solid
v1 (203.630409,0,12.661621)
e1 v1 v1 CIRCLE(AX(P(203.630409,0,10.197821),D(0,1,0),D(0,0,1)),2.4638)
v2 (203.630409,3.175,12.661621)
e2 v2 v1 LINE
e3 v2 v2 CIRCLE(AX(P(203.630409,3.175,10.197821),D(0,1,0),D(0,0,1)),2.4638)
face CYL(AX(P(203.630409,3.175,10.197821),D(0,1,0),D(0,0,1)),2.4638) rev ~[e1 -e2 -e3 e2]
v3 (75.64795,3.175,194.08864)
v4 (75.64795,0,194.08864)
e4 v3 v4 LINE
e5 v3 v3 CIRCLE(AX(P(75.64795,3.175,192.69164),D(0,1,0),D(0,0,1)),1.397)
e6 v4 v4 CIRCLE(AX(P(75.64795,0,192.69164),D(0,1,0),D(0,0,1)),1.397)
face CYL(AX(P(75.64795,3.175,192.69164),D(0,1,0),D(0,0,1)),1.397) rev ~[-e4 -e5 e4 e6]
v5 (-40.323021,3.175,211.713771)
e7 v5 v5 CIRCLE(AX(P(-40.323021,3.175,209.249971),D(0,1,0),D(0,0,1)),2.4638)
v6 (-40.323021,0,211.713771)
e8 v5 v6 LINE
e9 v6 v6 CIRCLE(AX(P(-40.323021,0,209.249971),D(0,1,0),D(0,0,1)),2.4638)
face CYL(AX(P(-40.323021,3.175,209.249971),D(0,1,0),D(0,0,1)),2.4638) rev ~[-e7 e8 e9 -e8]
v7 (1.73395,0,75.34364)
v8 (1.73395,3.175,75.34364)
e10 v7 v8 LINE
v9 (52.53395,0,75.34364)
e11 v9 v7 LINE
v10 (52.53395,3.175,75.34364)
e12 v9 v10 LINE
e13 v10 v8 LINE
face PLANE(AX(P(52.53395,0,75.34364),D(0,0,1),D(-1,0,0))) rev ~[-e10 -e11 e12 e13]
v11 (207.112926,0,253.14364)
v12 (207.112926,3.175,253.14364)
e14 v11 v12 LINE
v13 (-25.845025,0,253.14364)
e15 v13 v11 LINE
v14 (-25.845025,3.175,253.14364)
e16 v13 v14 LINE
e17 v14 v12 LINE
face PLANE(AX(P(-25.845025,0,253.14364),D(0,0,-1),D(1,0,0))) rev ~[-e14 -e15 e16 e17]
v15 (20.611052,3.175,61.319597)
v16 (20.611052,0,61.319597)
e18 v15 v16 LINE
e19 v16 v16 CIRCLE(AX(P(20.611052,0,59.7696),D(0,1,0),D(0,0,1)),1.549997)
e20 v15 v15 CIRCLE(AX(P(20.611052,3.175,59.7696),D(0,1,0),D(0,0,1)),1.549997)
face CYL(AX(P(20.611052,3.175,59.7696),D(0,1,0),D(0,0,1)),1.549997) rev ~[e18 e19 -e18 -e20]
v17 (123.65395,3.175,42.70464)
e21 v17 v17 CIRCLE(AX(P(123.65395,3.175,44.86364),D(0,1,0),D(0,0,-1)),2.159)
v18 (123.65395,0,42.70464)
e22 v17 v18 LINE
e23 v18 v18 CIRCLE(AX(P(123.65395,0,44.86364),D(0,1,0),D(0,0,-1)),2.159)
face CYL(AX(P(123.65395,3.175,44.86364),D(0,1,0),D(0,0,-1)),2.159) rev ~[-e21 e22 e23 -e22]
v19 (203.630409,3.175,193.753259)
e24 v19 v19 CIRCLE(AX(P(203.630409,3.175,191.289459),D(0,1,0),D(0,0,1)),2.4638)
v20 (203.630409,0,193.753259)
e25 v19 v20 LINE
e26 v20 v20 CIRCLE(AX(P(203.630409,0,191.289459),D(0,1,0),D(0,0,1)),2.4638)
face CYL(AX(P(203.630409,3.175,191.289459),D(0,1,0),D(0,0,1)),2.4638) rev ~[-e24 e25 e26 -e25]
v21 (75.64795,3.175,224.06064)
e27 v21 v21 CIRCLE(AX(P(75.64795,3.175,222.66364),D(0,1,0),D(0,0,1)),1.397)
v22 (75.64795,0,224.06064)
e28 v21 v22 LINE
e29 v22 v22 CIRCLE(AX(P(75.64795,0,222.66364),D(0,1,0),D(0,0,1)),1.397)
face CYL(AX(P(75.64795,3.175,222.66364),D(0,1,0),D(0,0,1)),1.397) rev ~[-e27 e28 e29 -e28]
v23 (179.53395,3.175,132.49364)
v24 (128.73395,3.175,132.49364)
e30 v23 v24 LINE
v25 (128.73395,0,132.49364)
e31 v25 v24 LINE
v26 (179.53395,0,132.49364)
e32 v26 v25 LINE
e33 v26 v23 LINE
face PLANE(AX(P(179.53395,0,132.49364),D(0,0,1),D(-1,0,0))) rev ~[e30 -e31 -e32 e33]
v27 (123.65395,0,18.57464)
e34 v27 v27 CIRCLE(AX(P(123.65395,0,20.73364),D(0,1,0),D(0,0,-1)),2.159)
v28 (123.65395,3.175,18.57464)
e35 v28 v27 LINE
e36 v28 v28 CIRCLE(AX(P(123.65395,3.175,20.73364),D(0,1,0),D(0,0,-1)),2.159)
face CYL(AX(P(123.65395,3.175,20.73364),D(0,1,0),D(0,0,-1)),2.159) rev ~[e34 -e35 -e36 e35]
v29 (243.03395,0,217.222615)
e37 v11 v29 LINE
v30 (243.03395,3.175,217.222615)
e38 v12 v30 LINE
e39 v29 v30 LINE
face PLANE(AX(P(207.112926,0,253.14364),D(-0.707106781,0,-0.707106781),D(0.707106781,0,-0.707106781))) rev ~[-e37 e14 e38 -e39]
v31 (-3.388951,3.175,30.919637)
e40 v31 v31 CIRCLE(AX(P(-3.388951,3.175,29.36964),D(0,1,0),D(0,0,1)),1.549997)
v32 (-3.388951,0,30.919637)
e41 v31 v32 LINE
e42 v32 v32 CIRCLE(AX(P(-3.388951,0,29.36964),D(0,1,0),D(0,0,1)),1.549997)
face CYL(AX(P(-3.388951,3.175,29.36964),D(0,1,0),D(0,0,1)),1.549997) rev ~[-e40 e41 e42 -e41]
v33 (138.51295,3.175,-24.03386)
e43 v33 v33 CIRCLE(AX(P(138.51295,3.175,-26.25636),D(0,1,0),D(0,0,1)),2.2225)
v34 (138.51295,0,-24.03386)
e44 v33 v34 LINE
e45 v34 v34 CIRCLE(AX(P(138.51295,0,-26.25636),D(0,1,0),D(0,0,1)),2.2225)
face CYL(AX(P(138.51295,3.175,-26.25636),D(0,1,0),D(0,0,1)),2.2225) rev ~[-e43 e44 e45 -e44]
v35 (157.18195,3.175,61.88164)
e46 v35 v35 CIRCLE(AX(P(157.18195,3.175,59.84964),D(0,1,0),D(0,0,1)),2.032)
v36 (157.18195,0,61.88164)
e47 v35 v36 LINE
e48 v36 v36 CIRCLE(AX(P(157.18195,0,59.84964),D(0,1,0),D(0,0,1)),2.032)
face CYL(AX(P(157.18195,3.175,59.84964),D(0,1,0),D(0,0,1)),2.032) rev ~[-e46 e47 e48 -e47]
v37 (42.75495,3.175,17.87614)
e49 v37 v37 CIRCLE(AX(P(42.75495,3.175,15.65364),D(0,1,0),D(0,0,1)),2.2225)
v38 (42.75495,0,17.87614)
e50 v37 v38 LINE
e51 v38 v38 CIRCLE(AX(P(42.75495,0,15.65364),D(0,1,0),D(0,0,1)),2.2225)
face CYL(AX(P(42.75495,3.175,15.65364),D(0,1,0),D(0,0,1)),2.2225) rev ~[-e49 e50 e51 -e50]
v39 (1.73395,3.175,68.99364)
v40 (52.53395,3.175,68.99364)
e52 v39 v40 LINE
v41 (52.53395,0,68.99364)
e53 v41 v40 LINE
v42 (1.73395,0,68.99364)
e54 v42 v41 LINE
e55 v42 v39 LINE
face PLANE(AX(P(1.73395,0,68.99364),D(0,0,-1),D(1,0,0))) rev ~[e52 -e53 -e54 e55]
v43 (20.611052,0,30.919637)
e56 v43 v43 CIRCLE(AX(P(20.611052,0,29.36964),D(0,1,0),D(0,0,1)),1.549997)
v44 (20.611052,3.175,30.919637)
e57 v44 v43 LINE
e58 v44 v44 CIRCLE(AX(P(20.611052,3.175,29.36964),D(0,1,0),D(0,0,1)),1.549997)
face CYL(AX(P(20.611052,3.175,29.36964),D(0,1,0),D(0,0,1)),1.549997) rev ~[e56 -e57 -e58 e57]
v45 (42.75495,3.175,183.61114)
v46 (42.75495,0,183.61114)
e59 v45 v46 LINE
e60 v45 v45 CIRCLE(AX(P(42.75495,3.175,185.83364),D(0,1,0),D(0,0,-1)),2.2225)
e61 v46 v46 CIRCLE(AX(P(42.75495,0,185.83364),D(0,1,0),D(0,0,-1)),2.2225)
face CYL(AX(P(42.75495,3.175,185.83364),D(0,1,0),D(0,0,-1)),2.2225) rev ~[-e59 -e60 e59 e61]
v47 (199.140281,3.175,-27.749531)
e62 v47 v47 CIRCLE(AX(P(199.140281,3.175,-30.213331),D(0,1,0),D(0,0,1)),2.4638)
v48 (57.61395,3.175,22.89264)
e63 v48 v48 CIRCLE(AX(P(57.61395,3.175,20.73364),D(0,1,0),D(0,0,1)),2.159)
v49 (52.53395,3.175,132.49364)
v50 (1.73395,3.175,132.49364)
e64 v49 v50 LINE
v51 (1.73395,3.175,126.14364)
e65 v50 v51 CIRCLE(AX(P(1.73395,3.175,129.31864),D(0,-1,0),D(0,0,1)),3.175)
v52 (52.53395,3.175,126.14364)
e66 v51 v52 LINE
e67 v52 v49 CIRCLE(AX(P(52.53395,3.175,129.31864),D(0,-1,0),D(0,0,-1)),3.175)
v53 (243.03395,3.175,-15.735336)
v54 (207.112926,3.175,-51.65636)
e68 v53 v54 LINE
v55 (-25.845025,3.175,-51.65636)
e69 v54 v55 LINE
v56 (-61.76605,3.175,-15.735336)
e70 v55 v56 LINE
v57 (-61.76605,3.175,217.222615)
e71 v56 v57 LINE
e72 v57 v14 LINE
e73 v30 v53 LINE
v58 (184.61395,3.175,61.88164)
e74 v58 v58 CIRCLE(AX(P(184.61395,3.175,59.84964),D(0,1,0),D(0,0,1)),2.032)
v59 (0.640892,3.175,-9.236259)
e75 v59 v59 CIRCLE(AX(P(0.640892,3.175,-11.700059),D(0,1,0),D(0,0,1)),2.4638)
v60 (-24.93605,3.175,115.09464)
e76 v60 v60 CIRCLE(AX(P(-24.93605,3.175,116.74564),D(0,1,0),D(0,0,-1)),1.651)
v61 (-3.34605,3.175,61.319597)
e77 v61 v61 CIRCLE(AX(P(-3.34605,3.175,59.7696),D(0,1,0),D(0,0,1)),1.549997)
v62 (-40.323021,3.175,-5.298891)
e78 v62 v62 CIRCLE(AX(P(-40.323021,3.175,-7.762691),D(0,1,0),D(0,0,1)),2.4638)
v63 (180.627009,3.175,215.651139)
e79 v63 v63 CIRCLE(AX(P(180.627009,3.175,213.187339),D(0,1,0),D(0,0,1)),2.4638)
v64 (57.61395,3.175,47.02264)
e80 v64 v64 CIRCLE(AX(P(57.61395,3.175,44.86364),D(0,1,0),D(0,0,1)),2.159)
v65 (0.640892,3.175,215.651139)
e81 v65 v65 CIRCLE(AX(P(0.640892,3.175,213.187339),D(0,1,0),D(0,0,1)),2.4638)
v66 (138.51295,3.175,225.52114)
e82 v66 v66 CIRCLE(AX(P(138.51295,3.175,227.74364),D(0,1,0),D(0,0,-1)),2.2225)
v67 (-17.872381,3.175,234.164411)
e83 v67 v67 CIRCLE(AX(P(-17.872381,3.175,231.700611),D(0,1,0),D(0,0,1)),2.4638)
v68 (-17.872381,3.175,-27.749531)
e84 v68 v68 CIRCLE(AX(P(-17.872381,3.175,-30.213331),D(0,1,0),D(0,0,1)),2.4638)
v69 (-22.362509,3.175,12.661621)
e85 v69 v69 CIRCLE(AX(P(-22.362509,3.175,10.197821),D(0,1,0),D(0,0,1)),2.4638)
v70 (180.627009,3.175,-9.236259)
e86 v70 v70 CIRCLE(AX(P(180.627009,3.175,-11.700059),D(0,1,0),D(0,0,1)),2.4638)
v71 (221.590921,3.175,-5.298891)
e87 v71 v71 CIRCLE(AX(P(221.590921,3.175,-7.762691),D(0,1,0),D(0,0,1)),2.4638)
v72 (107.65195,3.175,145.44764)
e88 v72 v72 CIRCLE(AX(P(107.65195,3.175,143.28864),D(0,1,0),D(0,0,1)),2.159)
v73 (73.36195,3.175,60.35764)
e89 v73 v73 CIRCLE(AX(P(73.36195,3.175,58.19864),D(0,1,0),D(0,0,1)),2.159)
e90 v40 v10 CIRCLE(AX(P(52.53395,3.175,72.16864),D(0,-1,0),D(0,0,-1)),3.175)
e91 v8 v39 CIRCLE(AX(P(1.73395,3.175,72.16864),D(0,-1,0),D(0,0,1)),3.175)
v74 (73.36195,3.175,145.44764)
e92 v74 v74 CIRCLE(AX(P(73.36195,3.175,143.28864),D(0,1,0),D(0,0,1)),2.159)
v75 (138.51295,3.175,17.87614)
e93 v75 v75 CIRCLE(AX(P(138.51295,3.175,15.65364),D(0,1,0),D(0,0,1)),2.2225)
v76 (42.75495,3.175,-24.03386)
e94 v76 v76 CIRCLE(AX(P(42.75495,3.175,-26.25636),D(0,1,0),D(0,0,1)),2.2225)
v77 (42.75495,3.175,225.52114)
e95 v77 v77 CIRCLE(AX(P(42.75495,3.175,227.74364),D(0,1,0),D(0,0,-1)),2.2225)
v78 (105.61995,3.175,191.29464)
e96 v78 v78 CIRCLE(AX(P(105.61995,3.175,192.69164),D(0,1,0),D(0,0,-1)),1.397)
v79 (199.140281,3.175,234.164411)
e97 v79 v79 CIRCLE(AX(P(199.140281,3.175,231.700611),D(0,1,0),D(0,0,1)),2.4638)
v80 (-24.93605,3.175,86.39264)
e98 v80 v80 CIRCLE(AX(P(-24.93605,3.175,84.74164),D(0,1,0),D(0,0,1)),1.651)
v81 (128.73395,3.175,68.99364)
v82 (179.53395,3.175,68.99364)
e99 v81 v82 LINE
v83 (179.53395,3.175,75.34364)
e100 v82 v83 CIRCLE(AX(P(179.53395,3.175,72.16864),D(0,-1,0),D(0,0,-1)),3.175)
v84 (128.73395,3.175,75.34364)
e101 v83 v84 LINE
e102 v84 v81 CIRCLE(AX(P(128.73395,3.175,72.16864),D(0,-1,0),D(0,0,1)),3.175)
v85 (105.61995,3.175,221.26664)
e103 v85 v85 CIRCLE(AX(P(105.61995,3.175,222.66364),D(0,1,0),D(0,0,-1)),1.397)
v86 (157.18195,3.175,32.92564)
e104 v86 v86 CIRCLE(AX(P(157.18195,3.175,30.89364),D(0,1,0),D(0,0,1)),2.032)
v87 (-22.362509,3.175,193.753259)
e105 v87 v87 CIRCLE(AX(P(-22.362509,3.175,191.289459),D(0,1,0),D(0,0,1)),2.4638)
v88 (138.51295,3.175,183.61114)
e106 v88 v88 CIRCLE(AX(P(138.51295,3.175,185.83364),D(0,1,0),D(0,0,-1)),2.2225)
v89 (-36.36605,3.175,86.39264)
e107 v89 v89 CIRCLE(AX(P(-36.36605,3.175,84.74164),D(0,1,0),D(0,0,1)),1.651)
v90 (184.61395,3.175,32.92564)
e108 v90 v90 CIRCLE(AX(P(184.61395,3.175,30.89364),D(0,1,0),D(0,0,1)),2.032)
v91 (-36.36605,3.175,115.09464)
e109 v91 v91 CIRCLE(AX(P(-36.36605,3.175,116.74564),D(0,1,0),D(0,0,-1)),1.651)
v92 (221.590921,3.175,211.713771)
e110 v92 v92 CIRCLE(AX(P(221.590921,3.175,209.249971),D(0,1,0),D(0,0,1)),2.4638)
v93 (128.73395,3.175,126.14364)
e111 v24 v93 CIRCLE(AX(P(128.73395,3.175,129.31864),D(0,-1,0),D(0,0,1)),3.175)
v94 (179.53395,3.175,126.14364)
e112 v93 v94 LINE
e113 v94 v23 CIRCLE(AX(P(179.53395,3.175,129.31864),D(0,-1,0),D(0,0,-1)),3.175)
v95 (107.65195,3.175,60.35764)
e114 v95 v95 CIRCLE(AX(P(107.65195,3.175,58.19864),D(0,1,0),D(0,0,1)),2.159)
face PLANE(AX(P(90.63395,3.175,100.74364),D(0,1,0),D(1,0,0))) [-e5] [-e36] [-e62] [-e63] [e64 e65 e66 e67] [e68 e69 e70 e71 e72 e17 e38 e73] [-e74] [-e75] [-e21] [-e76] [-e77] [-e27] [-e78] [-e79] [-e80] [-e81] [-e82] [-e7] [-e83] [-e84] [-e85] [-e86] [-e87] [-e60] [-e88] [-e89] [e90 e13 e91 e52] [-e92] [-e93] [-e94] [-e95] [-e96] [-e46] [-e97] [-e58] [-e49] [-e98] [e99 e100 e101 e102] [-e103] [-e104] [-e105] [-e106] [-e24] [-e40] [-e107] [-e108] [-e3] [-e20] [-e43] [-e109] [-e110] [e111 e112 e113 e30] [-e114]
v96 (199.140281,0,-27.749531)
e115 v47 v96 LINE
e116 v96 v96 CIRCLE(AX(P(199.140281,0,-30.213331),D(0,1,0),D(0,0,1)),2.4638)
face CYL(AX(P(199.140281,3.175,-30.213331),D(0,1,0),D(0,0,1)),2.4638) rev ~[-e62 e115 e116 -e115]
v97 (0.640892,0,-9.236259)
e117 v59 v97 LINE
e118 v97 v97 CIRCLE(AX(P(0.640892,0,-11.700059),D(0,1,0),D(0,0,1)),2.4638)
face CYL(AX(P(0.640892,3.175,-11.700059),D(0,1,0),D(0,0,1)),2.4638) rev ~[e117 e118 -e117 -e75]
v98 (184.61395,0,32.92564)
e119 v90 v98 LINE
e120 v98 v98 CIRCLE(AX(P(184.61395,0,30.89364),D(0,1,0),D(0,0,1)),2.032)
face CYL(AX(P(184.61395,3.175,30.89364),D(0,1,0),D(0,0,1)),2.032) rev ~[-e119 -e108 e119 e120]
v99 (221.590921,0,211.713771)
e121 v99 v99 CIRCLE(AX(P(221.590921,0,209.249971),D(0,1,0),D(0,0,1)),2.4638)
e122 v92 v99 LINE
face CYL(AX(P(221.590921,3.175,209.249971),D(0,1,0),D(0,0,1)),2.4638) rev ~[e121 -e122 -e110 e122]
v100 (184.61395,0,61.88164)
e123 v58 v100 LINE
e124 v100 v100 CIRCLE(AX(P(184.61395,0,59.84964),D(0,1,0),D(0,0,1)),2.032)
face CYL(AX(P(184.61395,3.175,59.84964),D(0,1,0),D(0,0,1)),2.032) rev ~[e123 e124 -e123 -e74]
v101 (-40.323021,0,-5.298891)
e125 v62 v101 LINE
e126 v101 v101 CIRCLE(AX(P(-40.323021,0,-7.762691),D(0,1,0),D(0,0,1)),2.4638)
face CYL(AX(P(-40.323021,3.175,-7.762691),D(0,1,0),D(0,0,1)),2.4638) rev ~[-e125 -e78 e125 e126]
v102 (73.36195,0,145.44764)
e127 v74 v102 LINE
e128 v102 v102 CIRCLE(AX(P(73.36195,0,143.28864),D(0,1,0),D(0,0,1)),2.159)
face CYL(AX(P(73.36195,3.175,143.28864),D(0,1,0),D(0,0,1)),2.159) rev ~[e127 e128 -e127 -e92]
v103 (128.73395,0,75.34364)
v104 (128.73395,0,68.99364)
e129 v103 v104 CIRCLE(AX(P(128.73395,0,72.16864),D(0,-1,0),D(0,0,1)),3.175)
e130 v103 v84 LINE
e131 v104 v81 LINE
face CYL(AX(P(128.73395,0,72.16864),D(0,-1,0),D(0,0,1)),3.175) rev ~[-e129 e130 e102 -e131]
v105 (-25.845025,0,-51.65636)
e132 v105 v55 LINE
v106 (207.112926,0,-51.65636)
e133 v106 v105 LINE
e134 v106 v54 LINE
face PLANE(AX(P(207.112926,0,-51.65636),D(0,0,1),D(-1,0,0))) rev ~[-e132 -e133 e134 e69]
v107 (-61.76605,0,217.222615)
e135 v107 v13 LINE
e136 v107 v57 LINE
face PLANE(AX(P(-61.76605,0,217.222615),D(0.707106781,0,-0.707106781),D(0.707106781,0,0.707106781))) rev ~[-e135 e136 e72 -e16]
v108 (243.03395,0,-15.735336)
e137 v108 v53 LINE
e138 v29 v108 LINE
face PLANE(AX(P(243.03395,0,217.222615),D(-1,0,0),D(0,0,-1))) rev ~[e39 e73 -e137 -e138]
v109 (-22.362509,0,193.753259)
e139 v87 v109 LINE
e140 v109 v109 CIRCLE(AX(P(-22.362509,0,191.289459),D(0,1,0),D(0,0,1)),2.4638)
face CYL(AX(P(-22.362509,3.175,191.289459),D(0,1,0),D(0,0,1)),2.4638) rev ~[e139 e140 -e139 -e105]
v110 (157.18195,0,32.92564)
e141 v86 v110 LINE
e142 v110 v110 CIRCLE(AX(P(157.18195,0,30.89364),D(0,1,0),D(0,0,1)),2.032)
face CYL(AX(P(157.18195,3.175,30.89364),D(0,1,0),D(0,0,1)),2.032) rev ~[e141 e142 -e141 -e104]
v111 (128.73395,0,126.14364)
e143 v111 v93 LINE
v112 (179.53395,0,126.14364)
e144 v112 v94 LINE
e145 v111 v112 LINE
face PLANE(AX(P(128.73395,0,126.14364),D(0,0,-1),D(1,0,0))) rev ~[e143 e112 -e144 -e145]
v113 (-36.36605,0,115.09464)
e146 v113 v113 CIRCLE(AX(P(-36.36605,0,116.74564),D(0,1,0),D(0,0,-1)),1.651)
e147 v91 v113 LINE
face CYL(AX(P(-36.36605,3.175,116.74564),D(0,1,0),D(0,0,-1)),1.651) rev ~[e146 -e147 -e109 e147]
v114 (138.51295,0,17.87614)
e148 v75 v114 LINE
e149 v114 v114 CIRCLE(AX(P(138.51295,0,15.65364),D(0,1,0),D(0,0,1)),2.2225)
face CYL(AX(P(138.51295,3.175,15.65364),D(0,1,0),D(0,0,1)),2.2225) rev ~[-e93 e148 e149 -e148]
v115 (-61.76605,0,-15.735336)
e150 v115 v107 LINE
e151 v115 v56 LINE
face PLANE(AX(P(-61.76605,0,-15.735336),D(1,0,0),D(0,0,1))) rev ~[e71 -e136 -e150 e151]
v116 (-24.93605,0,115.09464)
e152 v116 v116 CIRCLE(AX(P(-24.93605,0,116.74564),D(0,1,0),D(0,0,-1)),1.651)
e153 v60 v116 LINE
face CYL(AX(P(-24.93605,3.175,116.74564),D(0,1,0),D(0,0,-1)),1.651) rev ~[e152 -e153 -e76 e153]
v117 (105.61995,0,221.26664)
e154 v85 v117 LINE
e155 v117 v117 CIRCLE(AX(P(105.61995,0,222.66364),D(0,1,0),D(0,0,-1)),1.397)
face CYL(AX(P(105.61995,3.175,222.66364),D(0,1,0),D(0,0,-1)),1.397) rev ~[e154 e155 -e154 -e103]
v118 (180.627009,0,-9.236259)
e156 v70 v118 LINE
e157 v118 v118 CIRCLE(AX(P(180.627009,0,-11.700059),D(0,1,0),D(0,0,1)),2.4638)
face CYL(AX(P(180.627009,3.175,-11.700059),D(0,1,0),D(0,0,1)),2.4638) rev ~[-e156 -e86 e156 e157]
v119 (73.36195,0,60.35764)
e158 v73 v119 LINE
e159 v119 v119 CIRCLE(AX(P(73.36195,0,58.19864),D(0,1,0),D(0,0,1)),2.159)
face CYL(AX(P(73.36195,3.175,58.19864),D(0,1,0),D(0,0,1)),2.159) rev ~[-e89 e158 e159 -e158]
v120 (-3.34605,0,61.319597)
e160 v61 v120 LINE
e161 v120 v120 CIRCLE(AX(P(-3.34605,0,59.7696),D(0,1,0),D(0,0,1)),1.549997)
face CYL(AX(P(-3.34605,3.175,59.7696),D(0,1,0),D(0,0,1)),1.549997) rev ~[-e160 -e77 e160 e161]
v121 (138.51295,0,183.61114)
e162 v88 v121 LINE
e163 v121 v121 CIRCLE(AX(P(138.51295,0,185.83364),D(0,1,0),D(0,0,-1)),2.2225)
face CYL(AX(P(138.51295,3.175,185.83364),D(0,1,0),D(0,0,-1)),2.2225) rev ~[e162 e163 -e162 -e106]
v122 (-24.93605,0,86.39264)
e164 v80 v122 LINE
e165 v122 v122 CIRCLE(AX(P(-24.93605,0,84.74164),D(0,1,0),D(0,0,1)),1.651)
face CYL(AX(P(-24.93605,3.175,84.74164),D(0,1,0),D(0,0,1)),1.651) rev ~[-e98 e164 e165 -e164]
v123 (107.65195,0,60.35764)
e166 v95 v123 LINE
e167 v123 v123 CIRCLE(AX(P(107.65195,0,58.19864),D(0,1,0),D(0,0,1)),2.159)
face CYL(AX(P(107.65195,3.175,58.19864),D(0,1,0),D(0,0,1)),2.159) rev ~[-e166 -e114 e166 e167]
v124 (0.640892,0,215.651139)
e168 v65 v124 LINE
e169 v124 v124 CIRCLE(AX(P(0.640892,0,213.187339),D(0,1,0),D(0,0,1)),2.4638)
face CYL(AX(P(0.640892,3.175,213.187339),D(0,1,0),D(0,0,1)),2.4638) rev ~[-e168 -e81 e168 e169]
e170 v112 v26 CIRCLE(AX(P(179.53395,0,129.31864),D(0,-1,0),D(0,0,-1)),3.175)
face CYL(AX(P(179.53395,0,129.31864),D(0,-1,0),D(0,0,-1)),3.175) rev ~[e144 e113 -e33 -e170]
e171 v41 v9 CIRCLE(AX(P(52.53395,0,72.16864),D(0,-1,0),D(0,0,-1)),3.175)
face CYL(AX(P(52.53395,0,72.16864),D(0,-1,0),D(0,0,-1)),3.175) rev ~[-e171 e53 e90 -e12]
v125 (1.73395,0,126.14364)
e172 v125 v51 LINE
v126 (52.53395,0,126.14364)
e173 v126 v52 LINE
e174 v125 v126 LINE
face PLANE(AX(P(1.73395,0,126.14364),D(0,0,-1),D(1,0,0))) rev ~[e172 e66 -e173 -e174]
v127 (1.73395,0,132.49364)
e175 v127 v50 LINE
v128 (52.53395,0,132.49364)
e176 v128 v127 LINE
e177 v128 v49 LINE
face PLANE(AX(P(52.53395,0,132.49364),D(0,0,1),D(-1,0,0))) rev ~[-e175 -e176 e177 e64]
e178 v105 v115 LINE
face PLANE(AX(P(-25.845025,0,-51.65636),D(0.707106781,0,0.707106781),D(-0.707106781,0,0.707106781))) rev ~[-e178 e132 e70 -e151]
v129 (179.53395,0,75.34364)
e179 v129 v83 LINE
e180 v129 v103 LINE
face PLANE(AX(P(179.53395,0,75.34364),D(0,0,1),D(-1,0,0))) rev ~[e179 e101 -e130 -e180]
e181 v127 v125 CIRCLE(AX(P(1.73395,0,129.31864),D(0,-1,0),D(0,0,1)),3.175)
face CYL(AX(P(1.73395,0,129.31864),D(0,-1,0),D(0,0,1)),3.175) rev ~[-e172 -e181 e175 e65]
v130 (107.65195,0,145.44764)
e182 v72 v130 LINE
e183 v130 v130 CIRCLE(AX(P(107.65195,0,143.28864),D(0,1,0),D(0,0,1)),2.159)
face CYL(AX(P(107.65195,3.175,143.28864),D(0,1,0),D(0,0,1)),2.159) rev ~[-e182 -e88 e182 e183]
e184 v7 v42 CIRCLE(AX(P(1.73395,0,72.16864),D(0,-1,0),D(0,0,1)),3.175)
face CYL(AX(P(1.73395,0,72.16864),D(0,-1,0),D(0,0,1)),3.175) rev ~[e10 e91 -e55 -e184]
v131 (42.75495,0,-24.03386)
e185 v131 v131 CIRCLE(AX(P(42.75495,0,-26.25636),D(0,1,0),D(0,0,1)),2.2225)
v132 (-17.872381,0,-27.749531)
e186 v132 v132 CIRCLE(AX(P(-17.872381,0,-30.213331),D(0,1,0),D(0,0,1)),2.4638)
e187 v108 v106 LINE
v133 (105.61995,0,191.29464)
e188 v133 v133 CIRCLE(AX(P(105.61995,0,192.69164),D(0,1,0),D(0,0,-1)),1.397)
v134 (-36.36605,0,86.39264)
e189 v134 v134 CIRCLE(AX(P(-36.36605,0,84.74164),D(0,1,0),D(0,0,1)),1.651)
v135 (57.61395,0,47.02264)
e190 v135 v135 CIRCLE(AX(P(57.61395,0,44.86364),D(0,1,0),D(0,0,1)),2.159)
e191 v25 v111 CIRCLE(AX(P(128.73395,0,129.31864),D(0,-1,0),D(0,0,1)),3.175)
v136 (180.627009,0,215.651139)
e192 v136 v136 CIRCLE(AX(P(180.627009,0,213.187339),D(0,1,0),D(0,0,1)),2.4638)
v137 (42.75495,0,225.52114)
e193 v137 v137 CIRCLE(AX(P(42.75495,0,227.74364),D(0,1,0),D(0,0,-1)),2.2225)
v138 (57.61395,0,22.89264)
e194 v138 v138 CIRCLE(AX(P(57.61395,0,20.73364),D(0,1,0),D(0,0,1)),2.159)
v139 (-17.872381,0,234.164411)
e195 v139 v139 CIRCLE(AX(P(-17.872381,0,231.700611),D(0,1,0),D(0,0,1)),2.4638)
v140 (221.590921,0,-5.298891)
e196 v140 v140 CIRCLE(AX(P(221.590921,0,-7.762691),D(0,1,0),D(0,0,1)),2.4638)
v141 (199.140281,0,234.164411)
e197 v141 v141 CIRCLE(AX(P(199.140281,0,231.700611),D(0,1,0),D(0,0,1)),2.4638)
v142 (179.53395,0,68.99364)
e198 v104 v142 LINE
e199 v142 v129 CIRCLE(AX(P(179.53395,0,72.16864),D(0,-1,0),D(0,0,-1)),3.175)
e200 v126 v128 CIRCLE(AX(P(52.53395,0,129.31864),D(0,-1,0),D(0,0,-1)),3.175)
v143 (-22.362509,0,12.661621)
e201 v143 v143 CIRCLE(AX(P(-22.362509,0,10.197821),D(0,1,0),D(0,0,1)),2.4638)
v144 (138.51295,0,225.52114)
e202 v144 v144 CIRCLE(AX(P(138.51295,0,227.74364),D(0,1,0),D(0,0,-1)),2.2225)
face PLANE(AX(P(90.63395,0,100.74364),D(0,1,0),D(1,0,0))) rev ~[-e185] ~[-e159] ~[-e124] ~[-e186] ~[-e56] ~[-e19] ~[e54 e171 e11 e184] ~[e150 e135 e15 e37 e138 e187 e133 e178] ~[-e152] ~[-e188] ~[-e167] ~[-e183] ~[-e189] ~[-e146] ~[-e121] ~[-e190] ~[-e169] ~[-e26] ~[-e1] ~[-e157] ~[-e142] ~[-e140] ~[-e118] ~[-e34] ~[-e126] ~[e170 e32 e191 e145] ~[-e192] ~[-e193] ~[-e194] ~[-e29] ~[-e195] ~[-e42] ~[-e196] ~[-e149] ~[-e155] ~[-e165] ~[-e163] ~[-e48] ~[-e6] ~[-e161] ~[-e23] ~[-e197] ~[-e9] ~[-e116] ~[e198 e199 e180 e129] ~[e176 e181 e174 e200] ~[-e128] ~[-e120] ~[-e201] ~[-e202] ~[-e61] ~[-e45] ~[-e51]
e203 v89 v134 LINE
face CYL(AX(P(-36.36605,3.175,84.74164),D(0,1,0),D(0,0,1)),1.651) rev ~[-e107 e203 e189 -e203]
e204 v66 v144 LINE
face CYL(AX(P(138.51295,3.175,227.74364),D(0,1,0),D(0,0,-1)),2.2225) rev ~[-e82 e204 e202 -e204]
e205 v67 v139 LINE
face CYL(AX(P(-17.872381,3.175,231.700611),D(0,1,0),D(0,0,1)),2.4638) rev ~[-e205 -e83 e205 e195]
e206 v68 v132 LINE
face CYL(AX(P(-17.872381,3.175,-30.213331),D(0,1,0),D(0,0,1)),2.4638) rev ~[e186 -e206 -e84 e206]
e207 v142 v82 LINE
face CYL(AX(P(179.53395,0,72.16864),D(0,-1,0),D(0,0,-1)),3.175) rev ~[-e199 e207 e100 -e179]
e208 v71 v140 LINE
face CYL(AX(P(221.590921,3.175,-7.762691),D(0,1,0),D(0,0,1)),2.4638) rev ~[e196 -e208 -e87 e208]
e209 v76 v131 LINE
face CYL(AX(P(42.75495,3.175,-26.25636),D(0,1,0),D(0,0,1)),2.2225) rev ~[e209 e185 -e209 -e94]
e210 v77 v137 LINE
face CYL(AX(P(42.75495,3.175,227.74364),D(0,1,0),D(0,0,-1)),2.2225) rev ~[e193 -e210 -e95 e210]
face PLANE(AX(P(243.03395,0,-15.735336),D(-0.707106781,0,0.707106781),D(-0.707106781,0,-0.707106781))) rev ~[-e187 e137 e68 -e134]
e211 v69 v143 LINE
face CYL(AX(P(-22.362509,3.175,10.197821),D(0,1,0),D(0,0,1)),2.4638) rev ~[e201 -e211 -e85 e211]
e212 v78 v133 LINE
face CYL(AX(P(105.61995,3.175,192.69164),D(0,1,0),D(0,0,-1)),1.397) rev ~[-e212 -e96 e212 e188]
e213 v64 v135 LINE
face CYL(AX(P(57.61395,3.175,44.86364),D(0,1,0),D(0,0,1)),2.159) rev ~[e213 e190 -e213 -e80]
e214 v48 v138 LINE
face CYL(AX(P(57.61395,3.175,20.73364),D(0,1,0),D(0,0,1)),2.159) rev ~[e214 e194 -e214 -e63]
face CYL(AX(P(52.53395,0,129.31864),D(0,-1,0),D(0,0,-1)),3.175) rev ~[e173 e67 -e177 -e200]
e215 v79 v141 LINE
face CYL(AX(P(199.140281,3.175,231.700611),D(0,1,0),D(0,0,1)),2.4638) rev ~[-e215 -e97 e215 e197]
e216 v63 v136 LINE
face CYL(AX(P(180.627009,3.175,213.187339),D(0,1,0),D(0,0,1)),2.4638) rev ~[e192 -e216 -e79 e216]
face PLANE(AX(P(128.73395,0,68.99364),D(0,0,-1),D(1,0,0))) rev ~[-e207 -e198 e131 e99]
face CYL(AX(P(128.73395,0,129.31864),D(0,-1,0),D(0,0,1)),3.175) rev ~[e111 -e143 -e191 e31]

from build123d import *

# Parameters (mm, degrees)
BOSS_EXTRUDE1_DEPTH = 3.175
SKETCH2_R           = 2.4638
CUT_EXTRUDE1_DEPTH  = 6.35
SKETCH3_R           = 2.159
CUT_EXTRUDE2_DEPTH  = 6.35
SKETCH4_R           = 2.2225
CUT_EXTRUDE3_DEPTH  = 351.937720963
SKETCH5_R           = 1.651
CUT_EXTRUDE4_DEPTH  = 351.937720963
SKETCH6_R           = 2.032
SKETCH6_R_2         = 2.159
SKETCH6_R_3         = 1.397
SKETCH6_R_4         = 1.5499969
CUT_EXTRUDE5_DEPTH  = 351.937720963


with BuildPart() as part:
    # Sketch1 → Boss-Extrude1 (new body)
    with BuildSketch(Plane(origin=(0, 0, 0), x_dir=(1, 0, 0), z_dir=(0, 1, 0))):
        Polygon((-25.845025354, 51.656360067), (-61.766049839, 15.735335583), (-61.766049839, -217.222615449), (-25.845025354, -253.143639933), (207.112925677, -253.143639933), (243.033950161, -217.222615449), (243.033950161, 15.735335583), (207.112925677, 51.656360067), align=None)
        with BuildLine():
            ThreePointArc((52.533950161, -126.143639933), (55.708950161, -129.318639933), (52.533950161, -132.493639933))
            Line((52.533950161, -132.493639933), (1.733950161, -132.493639933))
            ThreePointArc((1.733950161, -132.493639933), (-1.441049839, -129.318639933), (1.733950161, -126.143639933))
            Line((1.733950161, -126.143639933), (52.533950161, -126.143639933))
        make_face(mode=Mode.SUBTRACT)
        with BuildLine():
            Line((179.533950161, -132.493639933), (128.733950161, -132.493639933))
            ThreePointArc((128.733950161, -132.493639933), (125.558950161, -129.318639933), (128.733950161, -126.143639933))
            Line((128.733950161, -126.143639933), (179.533950161, -126.143639933))
            ThreePointArc((179.533950161, -126.143639933), (182.708950161, -129.318639933), (179.533950161, -132.493639933))
        make_face(mode=Mode.SUBTRACT)
        with BuildLine():
            Line((1.733950161, -68.993639933), (52.533950161, -68.993639933))
            ThreePointArc((52.533950161, -68.993639933), (55.708950161, -72.168639933), (52.533950161, -75.343639933))
            Line((52.533950161, -75.343639933), (1.733950161, -75.343639933))
            ThreePointArc((1.733950161, -75.343639933), (-1.441049839, -72.168639933), (1.733950161, -68.993639933))
        make_face(mode=Mode.SUBTRACT)
        with BuildLine():
            ThreePointArc((128.733950161, -75.343639933), (125.558950161, -72.168639933), (128.733950161, -68.993639933))
            Line((128.733950161, -68.993639933), (179.533950161, -68.993639933))
            ThreePointArc((179.533950161, -68.993639933), (182.708950161, -72.168639933), (179.533950161, -75.343639933))
            Line((179.533950161, -75.343639933), (128.733950161, -75.343639933))
        make_face(mode=Mode.SUBTRACT)
    extrude(amount=BOSS_EXTRUDE1_DEPTH)

    # Sketch2 → Cut-Extrude1 (cut)
    with BuildSketch(Plane(origin=(0, 3.175, 0), x_dir=(1, 0, 0), z_dir=(0, 1, 0))):
        with Locations(Location((-17.872380726, 30.213331256, 0), (0, 0, 270))):
            Circle(SKETCH2_R)
        with Locations(Location((0.640891541, 11.70005899, 0), (0, 0, 270))):
            Circle(SKETCH2_R)
        with Locations(Location((-22.362508786, -10.197821288, 0), (0, 0, 270))):
            Circle(SKETCH2_R)
        with Locations(Location((-40.323021028, 7.762690954, 0), (0, 0, 270))):
            Circle(SKETCH2_R)
        with Locations(Location((203.630409109, -10.197821288, 0), (0, 0, 270))):
            Circle(SKETCH2_R)
        with Locations(Location((221.590921351, 7.762690954, 0), (0, 0, 270))):
            Circle(SKETCH2_R)
        with Locations(Location((180.627008782, 11.70005899, 0), (0, 0, 270))):
            Circle(SKETCH2_R)
        with Locations(Location((199.140281048, 30.213331256, 0), (0, 0, 270))):
            Circle(SKETCH2_R)
        with Locations(Location((-22.362508786, -191.289458578, 0), (0, 0, 270))):
            Circle(SKETCH2_R)
        with Locations(Location((-40.323021028, -209.24997082, 0), (0, 0, 270))):
            Circle(SKETCH2_R)
        with Locations(Location((-17.872380726, -231.700611123, 0), (0, 0, 270))):
            Circle(SKETCH2_R)
        with Locations(Location((0.640891541, -213.187338857, 0), (0, 0, 270))):
            Circle(SKETCH2_R)
        with Locations(Location((221.590921351, -209.24997082, 0), (0, 0, 270))):
            Circle(SKETCH2_R)
        with Locations(Location((199.140281048, -231.700611123, 0), (0, 0, 270))):
            Circle(SKETCH2_R)
        with Locations(Location((180.627008782, -213.187338857, 0), (0, 0, 270))):
            Circle(SKETCH2_R)
        with Locations(Location((203.630409109, -191.289458578, 0), (0, 0, 270))):
            Circle(SKETCH2_R)
    extrude(amount=-CUT_EXTRUDE1_DEPTH, mode=Mode.SUBTRACT)

    # Sketch3 → Cut-Extrude2 (cut)
    with BuildSketch(Plane(origin=(0, 3.175, 0), x_dir=(1, 0, 0), z_dir=(0, 1, 0))):
        with Locations(Location((73.361950161, -58.198639933, 0), (0, 0, 270))):
            Circle(SKETCH3_R)
        with Locations(Location((107.651950161, -58.198639933, 0), (0, 0, 270))):
            Circle(SKETCH3_R)
        with Locations(Location((73.361950161, -143.288639933, 0), (0, 0, 270))):
            Circle(SKETCH3_R)
        with Locations(Location((107.651950161, -143.288639933, 0), (0, 0, 270))):
            Circle(SKETCH3_R)
    extrude(amount=-CUT_EXTRUDE2_DEPTH, mode=Mode.SUBTRACT)

    # Sketch4 → Cut-Extrude3 (cut, through all)
    with BuildSketch(Plane(origin=(0, 3.175, 0), x_dir=(1, 0, 0), z_dir=(0, 1, 0))):
        with Locations(Location((42.754950161, 26.256360067, 0), (0, 0, 270))):
            Circle(SKETCH4_R)
        with Locations(Location((138.512950161, 26.256360067, 0), (0, 0, 270))):
            Circle(SKETCH4_R)
        with Locations(Location((42.754950161, -15.653639933, 0), (0, 0, 270))):
            Circle(SKETCH4_R)
        with Locations(Location((138.512950161, -15.653639933, 0), (0, 0, 270))):
            Circle(SKETCH4_R)
        with Locations(Location((138.512950161, -185.833639933, 0), (0, 0, 90))):
            Circle(SKETCH4_R)
        with Locations(Location((42.754950161, -185.833639933, 0), (0, 0, 90))):
            Circle(SKETCH4_R)
        with Locations(Location((138.512950161, -227.743639933, 0), (0, 0, 90))):
            Circle(SKETCH4_R)
        with Locations(Location((42.754950161, -227.743639933, 0), (0, 0, 90))):
            Circle(SKETCH4_R)
    extrude(amount=-CUT_EXTRUDE3_DEPTH, mode=Mode.SUBTRACT)

    # Sketch5 → Cut-Extrude4 (cut, through all)
    with BuildSketch(Plane(origin=(0, 3.175, 0), x_dir=(1, 0, 0), z_dir=(0, 1, 0))):
        with Locations(Location((-36.366049839, -84.741639933, 0), (0, 0, 270))):
            Circle(SKETCH5_R)
        with Locations(Location((-24.936049839, -84.741639933, 0), (0, 0, 270))):
            Circle(SKETCH5_R)
        with Locations(Location((-24.936049839, -116.745639933, 0), (0, 0, 90))):
            Circle(SKETCH5_R)
        with Locations(Location((-36.366049839, -116.745639933, 0), (0, 0, 90))):
            Circle(SKETCH5_R)
    extrude(amount=-CUT_EXTRUDE4_DEPTH, mode=Mode.SUBTRACT)

    # Sketch6 → Cut-Extrude5 (cut, through all)
    with BuildSketch(Plane(origin=(0, 3.175, 0), x_dir=(1, 0, 0), z_dir=(0, 1, 0))):
        with Locations(Location((157.181950161, -30.893639933, 0), (0, 0, 270))):
            Circle(SKETCH6_R)
        with Locations(Location((157.181950161, -59.849639933, 0), (0, 0, 270))):
            Circle(SKETCH6_R)
        with Locations(Location((184.613950161, -59.849639933, 0), (0, 0, 270))):
            Circle(SKETCH6_R)
        with Locations(Location((184.613950161, -30.893639933, 0), (0, 0, 270))):
            Circle(SKETCH6_R)
        with Locations(Location((57.613950161, -20.733639933, 0), (0, 0, 270))):
            Circle(SKETCH6_R_2)
        with Locations(Location((57.613950161, -44.863639933, 0), (0, 0, 270))):
            Circle(SKETCH6_R_2)
        with Locations(Location((123.653950161, -44.863639933, 0), (0, 0, 90))):
            Circle(SKETCH6_R_2)
        with Locations(Location((123.653950161, -20.733639933, 0), (0, 0, 90))):
            Circle(SKETCH6_R_2)
        with Locations(Location((75.647950161, -192.691639933, 0), (0, 0, 270))):
            Circle(SKETCH6_R_3)
        with Locations(Location((75.647950161, -222.663639933, 0), (0, 0, 270))):
            Circle(SKETCH6_R_3)
        with Locations(Location((105.619950161, -222.663639933, 0), (0, 0, 90))):
            Circle(SKETCH6_R_3)
        with Locations(Location((105.619950161, -192.691639933, 0), (0, 0, 90))):
            Circle(SKETCH6_R_3)
        with Locations(Location((-3.388950787, -29.369639933, 0), (0, 0, 270))):
            Circle(SKETCH6_R_4)
        with Locations(Location((-3.346049839, -59.769599662, 0), (0, 0, 270))):
            Circle(SKETCH6_R_4)
        with Locations(Location((20.611052013, -29.369639933, 0), (0, 0, 270))):
            Circle(SKETCH6_R_4)
        with Locations(Location((20.611052013, -59.769599662, 0), (0, 0, 270))):
            Circle(SKETCH6_R_4)
    extrude(amount=-CUT_EXTRUDE5_DEPTH, mode=Mode.SUBTRACT)


solid = part.part
